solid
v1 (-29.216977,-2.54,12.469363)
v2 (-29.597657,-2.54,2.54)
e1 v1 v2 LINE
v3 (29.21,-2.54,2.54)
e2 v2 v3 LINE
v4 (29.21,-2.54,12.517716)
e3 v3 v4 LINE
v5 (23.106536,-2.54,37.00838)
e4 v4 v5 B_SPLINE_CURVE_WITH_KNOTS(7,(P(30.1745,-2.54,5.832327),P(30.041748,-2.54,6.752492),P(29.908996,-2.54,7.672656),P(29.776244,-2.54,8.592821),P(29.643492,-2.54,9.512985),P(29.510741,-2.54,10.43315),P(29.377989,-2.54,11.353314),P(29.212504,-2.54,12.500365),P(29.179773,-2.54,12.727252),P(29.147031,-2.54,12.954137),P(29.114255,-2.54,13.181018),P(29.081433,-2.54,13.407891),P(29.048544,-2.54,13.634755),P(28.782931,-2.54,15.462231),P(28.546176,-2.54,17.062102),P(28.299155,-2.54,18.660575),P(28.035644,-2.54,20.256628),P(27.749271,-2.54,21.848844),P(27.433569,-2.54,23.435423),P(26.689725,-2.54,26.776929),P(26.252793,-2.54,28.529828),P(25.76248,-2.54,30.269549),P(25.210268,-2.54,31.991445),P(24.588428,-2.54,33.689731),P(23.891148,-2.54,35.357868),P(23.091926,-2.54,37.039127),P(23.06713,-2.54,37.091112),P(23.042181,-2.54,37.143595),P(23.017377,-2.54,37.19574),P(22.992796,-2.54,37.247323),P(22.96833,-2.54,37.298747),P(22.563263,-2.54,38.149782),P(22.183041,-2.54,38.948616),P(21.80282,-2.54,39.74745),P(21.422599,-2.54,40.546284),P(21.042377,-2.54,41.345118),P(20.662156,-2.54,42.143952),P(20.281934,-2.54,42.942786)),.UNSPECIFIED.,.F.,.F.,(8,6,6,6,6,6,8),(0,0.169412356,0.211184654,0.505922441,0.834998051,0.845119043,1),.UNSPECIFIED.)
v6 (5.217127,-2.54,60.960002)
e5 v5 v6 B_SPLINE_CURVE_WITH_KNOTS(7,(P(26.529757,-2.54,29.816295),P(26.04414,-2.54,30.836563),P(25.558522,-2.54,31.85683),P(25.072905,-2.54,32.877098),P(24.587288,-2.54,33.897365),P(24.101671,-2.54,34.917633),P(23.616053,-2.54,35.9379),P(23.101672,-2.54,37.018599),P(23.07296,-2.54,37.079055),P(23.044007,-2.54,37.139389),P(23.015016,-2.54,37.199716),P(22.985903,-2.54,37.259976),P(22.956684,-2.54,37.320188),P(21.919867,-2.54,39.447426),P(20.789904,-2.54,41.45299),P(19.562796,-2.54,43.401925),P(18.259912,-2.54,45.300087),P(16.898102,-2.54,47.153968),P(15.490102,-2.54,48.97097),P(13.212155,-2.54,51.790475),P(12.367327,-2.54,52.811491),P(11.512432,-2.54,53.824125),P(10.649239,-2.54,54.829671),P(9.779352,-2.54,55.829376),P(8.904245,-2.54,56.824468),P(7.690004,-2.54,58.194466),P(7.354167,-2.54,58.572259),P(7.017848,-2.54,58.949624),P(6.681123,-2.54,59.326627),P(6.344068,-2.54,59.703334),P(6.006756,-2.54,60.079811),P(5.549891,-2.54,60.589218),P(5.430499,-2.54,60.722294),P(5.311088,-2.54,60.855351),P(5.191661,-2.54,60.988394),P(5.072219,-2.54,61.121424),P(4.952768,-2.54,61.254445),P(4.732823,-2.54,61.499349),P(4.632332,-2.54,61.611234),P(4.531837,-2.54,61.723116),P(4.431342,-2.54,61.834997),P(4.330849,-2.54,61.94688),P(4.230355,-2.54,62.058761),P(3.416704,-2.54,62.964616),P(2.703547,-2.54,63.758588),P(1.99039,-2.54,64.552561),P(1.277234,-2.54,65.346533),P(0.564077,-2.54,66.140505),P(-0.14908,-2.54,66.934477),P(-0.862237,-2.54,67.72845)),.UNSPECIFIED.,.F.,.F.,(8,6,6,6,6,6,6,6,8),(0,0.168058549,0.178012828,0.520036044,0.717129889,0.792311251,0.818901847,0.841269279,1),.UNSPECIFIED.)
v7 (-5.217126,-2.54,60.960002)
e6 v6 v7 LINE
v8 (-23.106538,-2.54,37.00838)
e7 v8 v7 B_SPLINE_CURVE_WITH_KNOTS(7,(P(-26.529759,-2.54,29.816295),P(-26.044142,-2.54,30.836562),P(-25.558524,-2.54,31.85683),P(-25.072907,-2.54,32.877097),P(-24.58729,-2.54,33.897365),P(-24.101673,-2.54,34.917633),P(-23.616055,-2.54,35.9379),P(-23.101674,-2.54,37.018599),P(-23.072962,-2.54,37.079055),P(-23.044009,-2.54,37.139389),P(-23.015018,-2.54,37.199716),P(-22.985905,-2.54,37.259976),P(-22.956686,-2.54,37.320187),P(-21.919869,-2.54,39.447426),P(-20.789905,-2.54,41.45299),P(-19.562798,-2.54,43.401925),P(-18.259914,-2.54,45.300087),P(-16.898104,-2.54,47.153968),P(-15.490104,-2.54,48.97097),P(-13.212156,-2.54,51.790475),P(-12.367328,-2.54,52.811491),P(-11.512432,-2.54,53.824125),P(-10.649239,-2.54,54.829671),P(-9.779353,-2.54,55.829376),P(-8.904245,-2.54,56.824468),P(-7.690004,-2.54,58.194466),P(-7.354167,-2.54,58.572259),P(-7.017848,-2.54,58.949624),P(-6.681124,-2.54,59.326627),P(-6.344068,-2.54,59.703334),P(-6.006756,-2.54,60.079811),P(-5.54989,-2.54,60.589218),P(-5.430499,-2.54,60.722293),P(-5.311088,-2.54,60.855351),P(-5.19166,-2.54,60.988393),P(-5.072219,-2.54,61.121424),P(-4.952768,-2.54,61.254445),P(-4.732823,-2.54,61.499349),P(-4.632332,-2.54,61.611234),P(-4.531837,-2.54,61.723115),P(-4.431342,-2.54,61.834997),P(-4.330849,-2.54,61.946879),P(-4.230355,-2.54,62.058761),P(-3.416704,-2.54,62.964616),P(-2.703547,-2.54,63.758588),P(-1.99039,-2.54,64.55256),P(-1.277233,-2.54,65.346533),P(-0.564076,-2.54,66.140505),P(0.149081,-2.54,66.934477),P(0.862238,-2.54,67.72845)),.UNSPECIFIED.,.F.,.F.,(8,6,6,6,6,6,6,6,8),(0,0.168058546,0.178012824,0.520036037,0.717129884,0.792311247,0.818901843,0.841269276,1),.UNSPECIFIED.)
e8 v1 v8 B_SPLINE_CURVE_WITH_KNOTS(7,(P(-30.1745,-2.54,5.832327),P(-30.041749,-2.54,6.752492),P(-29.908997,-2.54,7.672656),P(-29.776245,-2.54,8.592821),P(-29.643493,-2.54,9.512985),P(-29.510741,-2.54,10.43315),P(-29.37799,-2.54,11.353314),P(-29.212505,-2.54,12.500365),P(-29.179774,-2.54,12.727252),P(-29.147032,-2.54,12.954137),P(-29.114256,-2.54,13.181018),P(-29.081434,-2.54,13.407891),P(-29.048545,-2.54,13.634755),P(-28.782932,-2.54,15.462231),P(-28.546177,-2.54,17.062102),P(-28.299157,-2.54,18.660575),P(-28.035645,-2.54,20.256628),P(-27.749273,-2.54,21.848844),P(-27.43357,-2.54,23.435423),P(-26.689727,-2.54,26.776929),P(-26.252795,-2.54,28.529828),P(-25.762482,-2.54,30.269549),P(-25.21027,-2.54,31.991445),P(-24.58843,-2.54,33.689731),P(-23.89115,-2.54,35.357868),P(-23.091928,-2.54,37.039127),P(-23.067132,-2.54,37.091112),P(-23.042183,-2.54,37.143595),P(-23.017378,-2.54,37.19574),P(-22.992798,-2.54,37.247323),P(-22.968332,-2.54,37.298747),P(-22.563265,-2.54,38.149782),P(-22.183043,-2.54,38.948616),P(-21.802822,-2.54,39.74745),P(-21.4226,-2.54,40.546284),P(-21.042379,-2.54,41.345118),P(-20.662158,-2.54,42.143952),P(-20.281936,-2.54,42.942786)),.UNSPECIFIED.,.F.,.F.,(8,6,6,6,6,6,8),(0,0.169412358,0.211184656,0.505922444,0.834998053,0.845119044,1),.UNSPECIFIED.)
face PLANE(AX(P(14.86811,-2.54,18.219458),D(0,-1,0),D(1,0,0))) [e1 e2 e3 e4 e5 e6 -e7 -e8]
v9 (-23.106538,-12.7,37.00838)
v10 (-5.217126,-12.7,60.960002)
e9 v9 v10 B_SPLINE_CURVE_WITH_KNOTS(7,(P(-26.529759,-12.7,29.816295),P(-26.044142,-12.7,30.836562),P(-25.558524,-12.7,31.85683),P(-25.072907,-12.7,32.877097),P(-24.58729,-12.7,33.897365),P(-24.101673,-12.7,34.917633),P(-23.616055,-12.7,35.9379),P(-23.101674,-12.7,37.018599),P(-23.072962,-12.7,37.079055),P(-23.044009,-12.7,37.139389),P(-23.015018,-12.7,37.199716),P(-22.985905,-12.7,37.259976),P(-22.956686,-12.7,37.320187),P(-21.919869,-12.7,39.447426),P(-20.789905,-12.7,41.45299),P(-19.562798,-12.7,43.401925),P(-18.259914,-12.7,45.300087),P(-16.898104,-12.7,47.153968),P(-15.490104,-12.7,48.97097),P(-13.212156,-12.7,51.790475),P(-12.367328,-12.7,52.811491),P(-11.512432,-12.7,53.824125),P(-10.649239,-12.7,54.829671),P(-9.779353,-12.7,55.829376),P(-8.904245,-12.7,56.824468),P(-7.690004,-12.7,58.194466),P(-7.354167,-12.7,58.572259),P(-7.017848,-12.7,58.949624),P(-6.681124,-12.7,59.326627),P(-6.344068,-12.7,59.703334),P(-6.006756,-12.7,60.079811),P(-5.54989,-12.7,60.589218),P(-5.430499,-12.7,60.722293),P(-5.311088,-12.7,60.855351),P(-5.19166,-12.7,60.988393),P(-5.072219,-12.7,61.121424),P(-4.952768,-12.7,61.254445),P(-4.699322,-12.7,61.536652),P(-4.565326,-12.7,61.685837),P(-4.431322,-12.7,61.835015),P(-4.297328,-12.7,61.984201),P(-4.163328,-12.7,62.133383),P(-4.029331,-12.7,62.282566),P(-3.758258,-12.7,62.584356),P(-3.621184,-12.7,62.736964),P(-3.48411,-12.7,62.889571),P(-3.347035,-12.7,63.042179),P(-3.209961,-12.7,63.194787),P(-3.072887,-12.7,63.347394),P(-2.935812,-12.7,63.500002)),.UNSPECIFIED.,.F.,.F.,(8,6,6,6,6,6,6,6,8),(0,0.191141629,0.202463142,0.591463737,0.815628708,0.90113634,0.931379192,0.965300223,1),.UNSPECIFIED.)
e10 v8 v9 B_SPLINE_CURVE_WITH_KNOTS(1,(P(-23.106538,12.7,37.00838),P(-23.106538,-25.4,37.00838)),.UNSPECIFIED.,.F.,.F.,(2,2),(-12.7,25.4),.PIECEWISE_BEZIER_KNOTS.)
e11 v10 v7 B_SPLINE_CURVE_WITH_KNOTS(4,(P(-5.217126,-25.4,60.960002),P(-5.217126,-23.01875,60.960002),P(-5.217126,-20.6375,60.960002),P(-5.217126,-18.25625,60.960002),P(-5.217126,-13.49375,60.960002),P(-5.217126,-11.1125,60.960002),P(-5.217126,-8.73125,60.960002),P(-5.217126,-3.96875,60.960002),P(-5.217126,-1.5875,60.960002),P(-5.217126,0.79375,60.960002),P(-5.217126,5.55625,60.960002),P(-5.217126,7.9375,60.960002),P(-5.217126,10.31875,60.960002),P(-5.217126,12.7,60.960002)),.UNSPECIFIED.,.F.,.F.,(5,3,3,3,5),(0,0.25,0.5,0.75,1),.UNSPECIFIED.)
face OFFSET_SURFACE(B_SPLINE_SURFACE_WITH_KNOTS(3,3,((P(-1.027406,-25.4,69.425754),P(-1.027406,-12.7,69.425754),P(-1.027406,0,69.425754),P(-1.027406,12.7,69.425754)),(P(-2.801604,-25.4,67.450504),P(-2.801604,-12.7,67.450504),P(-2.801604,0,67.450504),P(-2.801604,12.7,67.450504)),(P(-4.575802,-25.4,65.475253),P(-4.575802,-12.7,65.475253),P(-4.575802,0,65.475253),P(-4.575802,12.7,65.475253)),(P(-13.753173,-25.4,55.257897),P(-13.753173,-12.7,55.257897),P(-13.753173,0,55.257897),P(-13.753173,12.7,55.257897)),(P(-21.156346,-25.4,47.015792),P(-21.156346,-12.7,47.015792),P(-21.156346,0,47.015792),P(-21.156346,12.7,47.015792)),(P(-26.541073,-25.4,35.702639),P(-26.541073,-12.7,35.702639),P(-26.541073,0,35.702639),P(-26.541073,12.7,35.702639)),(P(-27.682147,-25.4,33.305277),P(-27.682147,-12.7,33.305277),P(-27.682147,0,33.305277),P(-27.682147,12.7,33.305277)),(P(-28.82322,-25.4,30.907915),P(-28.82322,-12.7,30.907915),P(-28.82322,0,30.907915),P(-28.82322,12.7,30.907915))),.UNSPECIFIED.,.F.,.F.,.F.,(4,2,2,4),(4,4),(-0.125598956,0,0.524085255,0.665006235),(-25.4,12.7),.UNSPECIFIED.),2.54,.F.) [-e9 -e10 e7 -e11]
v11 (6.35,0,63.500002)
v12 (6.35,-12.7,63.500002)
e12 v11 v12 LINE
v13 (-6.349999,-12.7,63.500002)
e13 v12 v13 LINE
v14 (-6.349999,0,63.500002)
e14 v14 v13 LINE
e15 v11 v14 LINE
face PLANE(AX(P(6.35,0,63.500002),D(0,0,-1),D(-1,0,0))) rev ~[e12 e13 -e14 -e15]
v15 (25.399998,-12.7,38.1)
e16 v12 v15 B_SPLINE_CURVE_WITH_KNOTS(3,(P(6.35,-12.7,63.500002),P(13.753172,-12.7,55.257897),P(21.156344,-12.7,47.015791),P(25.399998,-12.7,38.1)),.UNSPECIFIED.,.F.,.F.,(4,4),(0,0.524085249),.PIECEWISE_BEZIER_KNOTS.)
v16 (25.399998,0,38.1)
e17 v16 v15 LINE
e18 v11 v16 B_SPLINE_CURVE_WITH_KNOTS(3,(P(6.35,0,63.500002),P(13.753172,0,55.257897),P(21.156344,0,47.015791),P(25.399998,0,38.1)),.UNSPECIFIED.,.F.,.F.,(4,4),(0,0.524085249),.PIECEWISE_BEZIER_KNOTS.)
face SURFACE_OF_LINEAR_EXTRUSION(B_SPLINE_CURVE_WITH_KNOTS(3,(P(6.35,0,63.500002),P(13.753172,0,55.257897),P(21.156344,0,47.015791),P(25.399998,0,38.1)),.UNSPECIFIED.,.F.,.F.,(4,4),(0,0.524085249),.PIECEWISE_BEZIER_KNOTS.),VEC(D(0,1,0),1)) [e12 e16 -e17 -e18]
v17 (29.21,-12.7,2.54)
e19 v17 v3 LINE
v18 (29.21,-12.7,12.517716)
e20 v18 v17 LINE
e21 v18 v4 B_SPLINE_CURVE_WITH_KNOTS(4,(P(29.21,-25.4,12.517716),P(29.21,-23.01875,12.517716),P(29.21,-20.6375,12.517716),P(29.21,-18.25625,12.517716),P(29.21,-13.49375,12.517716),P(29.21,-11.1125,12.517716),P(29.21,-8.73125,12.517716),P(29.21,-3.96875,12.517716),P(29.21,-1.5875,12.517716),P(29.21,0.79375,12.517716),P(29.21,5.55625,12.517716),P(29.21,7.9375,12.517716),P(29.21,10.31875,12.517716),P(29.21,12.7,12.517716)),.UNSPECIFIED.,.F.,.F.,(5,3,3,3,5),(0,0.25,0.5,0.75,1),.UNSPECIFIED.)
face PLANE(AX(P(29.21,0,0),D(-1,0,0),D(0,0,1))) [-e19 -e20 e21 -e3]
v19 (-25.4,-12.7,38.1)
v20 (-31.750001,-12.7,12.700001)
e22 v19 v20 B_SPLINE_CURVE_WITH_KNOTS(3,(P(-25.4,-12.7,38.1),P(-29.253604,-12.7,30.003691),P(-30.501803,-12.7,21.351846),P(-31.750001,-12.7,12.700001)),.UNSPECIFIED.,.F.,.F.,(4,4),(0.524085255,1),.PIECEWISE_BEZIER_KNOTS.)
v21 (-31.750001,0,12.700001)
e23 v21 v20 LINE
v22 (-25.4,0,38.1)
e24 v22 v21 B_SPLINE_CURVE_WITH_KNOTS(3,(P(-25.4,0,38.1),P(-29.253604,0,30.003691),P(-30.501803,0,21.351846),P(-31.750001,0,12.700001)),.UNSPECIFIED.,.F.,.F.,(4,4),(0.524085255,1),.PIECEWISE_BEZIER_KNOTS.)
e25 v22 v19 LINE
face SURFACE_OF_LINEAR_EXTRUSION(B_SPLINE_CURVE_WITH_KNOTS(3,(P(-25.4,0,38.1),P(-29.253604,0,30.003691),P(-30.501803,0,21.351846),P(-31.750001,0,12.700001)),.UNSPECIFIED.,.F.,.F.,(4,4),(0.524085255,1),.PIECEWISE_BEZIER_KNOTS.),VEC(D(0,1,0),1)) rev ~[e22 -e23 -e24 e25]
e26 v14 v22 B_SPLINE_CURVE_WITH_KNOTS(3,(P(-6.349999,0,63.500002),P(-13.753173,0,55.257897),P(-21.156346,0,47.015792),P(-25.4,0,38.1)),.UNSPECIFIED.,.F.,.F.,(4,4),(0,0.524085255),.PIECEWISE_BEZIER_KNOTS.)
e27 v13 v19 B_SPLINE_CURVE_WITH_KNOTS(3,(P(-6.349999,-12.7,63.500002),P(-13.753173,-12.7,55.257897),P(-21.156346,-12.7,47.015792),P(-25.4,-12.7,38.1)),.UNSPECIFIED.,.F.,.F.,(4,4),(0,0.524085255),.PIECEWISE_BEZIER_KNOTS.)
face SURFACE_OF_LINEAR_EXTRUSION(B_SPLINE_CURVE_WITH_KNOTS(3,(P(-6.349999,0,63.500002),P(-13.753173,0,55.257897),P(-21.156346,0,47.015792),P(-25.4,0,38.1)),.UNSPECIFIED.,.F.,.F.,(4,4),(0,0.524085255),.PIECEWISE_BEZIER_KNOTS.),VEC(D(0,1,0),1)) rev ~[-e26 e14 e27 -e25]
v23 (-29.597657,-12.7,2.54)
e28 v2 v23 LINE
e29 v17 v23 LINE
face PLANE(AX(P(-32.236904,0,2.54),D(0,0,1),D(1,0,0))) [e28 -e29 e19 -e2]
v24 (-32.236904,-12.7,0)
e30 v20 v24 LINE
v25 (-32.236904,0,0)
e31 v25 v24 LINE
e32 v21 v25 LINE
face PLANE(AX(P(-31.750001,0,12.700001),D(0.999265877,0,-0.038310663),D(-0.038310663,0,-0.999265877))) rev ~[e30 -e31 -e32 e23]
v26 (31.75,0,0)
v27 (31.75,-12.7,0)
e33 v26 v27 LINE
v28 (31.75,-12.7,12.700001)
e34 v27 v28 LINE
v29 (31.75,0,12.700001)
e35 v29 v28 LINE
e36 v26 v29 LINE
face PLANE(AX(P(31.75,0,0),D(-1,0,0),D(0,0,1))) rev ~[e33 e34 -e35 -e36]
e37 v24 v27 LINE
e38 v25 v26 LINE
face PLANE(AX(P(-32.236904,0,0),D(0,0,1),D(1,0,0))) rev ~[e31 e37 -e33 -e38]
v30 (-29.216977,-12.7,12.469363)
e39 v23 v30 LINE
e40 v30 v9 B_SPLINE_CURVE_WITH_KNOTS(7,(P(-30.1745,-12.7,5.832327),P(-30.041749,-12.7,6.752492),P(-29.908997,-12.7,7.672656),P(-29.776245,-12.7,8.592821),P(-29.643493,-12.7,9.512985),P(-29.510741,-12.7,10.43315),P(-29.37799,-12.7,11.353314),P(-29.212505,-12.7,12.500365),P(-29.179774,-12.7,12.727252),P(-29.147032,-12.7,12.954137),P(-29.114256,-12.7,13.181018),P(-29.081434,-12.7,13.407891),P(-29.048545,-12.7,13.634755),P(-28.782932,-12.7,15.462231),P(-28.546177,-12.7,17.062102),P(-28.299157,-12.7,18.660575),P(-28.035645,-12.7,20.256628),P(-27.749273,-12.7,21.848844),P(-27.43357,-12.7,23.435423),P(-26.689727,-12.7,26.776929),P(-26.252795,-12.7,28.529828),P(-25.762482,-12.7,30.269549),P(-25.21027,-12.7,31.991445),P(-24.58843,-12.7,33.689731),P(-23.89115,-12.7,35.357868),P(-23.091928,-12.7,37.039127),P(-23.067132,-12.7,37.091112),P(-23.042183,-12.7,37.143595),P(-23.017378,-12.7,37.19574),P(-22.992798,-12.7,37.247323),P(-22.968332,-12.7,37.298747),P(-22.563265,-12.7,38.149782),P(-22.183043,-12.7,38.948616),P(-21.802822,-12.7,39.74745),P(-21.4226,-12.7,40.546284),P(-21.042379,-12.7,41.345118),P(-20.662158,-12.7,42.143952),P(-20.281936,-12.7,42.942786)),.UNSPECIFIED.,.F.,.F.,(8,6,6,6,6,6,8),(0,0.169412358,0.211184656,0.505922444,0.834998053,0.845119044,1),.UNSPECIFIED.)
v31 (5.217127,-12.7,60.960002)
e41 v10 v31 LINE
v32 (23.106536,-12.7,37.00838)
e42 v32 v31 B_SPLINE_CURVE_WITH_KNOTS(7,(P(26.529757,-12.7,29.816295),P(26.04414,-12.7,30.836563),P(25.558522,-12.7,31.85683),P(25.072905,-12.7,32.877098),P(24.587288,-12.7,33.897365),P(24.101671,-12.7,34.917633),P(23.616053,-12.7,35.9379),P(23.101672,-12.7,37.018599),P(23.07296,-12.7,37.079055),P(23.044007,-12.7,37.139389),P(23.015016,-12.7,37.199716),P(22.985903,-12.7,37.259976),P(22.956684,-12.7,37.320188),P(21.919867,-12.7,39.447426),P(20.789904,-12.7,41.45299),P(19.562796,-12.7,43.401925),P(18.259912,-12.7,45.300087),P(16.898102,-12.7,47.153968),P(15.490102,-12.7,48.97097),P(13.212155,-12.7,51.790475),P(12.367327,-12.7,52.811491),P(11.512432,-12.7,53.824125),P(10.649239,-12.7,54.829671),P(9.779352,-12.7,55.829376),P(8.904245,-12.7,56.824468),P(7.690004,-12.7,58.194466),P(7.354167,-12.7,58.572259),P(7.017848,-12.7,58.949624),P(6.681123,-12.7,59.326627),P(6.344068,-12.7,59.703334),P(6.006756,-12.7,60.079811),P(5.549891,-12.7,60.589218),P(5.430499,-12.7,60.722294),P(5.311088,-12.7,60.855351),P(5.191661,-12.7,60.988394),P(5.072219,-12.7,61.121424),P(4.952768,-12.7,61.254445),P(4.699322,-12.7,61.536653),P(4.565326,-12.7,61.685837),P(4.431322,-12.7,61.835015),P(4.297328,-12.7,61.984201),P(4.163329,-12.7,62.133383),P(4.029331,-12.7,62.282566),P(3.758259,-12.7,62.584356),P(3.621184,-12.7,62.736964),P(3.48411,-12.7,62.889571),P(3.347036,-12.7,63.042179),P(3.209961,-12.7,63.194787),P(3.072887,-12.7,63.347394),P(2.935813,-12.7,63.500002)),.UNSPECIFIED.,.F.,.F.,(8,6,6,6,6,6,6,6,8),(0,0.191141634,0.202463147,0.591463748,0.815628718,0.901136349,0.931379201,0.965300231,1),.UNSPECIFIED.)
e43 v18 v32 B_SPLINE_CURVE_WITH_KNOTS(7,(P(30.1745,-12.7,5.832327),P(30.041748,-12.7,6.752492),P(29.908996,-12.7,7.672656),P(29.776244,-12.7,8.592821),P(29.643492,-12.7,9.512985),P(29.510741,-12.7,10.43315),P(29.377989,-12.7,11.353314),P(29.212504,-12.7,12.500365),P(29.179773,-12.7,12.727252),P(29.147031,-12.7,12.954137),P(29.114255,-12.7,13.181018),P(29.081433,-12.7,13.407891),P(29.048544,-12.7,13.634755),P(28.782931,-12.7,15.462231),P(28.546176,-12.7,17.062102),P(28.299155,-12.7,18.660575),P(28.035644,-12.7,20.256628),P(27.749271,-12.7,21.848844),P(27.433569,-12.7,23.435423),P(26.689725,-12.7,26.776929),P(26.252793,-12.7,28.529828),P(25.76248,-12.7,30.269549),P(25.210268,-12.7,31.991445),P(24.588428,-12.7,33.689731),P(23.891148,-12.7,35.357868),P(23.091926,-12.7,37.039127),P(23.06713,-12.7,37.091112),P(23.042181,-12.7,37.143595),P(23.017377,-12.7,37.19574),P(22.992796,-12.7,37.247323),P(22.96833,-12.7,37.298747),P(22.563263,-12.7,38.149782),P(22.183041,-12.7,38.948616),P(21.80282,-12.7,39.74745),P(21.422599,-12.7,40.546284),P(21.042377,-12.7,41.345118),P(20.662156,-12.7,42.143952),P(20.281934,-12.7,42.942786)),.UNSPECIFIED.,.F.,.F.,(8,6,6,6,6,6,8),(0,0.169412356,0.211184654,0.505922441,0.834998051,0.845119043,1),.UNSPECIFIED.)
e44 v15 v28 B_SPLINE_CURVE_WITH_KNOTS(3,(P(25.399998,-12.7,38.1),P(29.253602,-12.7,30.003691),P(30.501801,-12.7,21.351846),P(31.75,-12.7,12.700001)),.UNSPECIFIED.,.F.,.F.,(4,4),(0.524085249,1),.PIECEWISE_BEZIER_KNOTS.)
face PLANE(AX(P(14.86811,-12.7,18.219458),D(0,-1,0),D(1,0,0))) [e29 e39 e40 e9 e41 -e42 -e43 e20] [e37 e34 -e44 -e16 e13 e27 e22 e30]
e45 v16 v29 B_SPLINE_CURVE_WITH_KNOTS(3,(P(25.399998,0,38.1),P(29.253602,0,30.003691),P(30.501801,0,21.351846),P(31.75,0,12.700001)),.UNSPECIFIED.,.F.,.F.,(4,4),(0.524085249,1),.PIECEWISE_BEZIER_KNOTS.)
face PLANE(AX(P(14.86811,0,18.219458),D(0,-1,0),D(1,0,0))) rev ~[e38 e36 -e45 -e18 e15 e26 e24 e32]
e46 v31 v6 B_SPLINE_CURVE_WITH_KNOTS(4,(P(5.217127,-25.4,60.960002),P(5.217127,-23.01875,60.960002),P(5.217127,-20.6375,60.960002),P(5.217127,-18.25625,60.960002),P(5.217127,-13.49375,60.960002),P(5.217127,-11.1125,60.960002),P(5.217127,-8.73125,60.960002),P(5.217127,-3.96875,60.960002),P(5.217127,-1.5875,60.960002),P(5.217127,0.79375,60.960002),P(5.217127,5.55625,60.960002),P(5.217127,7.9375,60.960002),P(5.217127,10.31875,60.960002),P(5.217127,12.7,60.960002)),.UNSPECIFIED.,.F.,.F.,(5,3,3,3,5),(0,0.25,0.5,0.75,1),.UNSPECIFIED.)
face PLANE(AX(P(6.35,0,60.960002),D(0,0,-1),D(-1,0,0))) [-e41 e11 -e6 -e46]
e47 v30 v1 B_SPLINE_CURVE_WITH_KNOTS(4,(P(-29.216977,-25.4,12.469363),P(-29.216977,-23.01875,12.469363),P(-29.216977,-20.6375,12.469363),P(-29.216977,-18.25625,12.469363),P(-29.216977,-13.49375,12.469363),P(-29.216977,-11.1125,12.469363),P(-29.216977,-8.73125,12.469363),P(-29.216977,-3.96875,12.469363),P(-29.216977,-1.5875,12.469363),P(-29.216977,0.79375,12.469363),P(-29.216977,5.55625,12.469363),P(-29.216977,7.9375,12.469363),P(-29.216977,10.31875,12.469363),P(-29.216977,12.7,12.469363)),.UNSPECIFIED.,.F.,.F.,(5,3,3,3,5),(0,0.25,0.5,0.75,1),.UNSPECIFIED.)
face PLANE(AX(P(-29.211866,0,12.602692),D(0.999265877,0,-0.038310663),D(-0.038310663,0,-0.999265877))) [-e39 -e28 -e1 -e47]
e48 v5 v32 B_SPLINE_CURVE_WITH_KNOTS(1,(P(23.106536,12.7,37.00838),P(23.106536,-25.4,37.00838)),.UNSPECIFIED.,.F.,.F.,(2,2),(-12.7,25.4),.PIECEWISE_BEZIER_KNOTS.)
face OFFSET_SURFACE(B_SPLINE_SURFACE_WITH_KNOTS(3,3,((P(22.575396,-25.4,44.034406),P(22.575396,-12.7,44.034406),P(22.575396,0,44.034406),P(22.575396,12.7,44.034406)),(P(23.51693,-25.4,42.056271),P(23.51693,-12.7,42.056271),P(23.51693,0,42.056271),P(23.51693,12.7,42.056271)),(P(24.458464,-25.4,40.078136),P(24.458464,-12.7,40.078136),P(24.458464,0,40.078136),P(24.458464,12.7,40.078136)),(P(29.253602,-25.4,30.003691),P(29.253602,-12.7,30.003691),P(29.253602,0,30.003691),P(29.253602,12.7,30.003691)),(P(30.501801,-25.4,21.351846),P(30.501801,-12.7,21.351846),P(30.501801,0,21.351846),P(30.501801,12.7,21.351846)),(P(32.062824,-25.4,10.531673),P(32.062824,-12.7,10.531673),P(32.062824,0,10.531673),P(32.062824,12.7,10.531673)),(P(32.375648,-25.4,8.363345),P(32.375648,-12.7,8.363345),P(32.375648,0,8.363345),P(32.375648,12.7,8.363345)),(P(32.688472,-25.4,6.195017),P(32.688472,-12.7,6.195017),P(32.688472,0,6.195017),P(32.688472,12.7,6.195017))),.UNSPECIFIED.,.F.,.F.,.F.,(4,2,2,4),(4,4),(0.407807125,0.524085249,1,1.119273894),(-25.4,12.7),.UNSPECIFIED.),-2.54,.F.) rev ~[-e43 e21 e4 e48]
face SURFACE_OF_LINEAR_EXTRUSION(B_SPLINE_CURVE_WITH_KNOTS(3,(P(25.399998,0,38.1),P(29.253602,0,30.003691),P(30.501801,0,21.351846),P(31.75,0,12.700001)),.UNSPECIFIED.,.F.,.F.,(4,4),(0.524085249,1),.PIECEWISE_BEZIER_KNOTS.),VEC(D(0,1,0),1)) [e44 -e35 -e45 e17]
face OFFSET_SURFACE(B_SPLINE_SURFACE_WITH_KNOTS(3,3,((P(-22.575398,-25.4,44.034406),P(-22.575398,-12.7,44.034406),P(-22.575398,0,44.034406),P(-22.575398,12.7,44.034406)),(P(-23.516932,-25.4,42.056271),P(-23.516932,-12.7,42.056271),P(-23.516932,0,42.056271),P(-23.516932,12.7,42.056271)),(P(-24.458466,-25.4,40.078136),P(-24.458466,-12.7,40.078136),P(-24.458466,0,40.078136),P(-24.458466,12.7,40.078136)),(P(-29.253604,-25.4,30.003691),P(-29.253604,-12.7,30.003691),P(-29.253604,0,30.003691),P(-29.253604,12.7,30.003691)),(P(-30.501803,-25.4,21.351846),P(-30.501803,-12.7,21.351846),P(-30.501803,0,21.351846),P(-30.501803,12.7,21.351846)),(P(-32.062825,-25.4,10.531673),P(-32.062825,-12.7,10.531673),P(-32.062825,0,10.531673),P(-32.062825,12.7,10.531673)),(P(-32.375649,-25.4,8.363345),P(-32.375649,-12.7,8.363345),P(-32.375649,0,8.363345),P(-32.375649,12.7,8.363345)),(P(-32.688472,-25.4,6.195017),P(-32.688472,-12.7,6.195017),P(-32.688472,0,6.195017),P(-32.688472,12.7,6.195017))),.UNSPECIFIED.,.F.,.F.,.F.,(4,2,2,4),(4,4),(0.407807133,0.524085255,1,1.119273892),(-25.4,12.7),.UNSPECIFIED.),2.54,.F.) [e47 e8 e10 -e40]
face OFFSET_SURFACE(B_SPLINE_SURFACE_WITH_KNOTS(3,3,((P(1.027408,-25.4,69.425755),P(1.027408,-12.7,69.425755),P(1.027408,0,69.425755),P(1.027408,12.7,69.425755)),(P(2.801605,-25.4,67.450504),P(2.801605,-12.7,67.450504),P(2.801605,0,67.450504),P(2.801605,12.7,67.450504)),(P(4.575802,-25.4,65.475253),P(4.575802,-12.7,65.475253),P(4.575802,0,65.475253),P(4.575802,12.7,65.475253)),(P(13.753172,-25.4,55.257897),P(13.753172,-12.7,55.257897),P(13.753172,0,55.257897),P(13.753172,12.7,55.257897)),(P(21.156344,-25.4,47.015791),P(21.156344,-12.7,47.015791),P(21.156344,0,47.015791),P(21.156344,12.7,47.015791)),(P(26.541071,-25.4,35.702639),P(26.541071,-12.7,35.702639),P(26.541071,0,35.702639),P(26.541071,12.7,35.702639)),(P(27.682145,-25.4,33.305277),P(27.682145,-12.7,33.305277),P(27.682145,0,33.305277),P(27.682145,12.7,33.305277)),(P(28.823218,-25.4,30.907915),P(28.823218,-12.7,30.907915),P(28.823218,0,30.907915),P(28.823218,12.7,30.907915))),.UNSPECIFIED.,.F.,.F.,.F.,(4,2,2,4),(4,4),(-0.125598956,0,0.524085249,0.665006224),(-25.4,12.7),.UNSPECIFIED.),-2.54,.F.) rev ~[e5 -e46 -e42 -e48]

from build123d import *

# Parameters (mm, degrees)
F1_DEPTH = 12.7
F2_T     = -2.54


with BuildPart() as f1:
    # F0 (on Front) → F1 (new body)
    with BuildSketch(Plane.XZ):
        with BuildLine():
            Line((0, 0), (31.75, 0))
            Line((31.75, 0), (31.75, 12.7000007778))
            add(Edge.make_bspline(
                [(25.3999978304, 38.1000004709), (29.2536024334, 30.0036908619), (30.5018012167, 21.3518458199), (31.75, 12.7000007778)],
                knots=[0.5240852488, 0.5240852488, 0.5240852488, 0.5240852488, 1, 1, 1, 1], degree=3))
            Line((25.3999978304, 38.1000004709), (0, 38.1000004709))
            Line((0, 38.1000004709), (0, 0))
        make_face()
        with BuildLine():
            Line((-32.2369039059, 0), (0, 0))
            Line((0, 0), (0, 38.1000004709))
            Line((0, 38.1000004709), (-25.399999693, 38.1000004709))
            add(Edge.make_bspline(
                [(-25.399999693, 38.1000004709), (-29.2536043883, 30.0036909518), (-30.5018027008, 21.3518458648), (-31.7500010133, 12.7000007778)],
                knots=[0.5240852553, 0.5240852553, 0.5240852553, 0.5240852553, 1, 1, 1, 1], degree=3))
            Line((-31.7500010133, 12.7000007778), (-32.2369039059, 0))
        make_face()
        with BuildLine():
            Line((-25.399999693, 38.1000004709), (0, 38.1000004709))
            Line((0, 38.1000004709), (0, 63.5000020266))
            Line((0, 63.5000020266), (-6.3499994576, 63.5000020266))
            add(Edge.make_bspline(
                [(-6.3499994576, 63.5000020266), (-13.7531726904, 55.2578967946), (-21.1563459231, 47.0157915626), (-25.399999693, 38.1000004709)],
                knots=[0, 0, 0, 0, 0.5240852553, 0.5240852553, 0.5240852553, 0.5240852553], degree=3))
        make_face()
        with BuildLine():
            Line((0, 63.5000020266), (0, 38.1000004709))
            Line((0, 38.1000004709), (25.3999978304, 38.1000004709))
            add(Edge.make_bspline(
                [(6.3499999233, 63.5000020266), (13.7531720977, 55.2578967284), (21.1563442721, 47.0157914303), (25.3999978304, 38.1000004709)],
                knots=[0, 0, 0, 0, 0.5240852488, 0.5240852488, 0.5240852488, 0.5240852488], degree=3))
            Line((6.3499999233, 63.5000020266), (0, 63.5000020266))
        make_face()
    extrude(amount=F1_DEPTH)

    # F2
    f2_openings = [f1.faces().sort_by_distance(p)[0] for p in [
        (-0.031333, -12.7, 26.51292),
    ]]
    offset(amount=F2_T, openings=f2_openings, kind=Kind.INTERSECTION)


solid = f1.part
